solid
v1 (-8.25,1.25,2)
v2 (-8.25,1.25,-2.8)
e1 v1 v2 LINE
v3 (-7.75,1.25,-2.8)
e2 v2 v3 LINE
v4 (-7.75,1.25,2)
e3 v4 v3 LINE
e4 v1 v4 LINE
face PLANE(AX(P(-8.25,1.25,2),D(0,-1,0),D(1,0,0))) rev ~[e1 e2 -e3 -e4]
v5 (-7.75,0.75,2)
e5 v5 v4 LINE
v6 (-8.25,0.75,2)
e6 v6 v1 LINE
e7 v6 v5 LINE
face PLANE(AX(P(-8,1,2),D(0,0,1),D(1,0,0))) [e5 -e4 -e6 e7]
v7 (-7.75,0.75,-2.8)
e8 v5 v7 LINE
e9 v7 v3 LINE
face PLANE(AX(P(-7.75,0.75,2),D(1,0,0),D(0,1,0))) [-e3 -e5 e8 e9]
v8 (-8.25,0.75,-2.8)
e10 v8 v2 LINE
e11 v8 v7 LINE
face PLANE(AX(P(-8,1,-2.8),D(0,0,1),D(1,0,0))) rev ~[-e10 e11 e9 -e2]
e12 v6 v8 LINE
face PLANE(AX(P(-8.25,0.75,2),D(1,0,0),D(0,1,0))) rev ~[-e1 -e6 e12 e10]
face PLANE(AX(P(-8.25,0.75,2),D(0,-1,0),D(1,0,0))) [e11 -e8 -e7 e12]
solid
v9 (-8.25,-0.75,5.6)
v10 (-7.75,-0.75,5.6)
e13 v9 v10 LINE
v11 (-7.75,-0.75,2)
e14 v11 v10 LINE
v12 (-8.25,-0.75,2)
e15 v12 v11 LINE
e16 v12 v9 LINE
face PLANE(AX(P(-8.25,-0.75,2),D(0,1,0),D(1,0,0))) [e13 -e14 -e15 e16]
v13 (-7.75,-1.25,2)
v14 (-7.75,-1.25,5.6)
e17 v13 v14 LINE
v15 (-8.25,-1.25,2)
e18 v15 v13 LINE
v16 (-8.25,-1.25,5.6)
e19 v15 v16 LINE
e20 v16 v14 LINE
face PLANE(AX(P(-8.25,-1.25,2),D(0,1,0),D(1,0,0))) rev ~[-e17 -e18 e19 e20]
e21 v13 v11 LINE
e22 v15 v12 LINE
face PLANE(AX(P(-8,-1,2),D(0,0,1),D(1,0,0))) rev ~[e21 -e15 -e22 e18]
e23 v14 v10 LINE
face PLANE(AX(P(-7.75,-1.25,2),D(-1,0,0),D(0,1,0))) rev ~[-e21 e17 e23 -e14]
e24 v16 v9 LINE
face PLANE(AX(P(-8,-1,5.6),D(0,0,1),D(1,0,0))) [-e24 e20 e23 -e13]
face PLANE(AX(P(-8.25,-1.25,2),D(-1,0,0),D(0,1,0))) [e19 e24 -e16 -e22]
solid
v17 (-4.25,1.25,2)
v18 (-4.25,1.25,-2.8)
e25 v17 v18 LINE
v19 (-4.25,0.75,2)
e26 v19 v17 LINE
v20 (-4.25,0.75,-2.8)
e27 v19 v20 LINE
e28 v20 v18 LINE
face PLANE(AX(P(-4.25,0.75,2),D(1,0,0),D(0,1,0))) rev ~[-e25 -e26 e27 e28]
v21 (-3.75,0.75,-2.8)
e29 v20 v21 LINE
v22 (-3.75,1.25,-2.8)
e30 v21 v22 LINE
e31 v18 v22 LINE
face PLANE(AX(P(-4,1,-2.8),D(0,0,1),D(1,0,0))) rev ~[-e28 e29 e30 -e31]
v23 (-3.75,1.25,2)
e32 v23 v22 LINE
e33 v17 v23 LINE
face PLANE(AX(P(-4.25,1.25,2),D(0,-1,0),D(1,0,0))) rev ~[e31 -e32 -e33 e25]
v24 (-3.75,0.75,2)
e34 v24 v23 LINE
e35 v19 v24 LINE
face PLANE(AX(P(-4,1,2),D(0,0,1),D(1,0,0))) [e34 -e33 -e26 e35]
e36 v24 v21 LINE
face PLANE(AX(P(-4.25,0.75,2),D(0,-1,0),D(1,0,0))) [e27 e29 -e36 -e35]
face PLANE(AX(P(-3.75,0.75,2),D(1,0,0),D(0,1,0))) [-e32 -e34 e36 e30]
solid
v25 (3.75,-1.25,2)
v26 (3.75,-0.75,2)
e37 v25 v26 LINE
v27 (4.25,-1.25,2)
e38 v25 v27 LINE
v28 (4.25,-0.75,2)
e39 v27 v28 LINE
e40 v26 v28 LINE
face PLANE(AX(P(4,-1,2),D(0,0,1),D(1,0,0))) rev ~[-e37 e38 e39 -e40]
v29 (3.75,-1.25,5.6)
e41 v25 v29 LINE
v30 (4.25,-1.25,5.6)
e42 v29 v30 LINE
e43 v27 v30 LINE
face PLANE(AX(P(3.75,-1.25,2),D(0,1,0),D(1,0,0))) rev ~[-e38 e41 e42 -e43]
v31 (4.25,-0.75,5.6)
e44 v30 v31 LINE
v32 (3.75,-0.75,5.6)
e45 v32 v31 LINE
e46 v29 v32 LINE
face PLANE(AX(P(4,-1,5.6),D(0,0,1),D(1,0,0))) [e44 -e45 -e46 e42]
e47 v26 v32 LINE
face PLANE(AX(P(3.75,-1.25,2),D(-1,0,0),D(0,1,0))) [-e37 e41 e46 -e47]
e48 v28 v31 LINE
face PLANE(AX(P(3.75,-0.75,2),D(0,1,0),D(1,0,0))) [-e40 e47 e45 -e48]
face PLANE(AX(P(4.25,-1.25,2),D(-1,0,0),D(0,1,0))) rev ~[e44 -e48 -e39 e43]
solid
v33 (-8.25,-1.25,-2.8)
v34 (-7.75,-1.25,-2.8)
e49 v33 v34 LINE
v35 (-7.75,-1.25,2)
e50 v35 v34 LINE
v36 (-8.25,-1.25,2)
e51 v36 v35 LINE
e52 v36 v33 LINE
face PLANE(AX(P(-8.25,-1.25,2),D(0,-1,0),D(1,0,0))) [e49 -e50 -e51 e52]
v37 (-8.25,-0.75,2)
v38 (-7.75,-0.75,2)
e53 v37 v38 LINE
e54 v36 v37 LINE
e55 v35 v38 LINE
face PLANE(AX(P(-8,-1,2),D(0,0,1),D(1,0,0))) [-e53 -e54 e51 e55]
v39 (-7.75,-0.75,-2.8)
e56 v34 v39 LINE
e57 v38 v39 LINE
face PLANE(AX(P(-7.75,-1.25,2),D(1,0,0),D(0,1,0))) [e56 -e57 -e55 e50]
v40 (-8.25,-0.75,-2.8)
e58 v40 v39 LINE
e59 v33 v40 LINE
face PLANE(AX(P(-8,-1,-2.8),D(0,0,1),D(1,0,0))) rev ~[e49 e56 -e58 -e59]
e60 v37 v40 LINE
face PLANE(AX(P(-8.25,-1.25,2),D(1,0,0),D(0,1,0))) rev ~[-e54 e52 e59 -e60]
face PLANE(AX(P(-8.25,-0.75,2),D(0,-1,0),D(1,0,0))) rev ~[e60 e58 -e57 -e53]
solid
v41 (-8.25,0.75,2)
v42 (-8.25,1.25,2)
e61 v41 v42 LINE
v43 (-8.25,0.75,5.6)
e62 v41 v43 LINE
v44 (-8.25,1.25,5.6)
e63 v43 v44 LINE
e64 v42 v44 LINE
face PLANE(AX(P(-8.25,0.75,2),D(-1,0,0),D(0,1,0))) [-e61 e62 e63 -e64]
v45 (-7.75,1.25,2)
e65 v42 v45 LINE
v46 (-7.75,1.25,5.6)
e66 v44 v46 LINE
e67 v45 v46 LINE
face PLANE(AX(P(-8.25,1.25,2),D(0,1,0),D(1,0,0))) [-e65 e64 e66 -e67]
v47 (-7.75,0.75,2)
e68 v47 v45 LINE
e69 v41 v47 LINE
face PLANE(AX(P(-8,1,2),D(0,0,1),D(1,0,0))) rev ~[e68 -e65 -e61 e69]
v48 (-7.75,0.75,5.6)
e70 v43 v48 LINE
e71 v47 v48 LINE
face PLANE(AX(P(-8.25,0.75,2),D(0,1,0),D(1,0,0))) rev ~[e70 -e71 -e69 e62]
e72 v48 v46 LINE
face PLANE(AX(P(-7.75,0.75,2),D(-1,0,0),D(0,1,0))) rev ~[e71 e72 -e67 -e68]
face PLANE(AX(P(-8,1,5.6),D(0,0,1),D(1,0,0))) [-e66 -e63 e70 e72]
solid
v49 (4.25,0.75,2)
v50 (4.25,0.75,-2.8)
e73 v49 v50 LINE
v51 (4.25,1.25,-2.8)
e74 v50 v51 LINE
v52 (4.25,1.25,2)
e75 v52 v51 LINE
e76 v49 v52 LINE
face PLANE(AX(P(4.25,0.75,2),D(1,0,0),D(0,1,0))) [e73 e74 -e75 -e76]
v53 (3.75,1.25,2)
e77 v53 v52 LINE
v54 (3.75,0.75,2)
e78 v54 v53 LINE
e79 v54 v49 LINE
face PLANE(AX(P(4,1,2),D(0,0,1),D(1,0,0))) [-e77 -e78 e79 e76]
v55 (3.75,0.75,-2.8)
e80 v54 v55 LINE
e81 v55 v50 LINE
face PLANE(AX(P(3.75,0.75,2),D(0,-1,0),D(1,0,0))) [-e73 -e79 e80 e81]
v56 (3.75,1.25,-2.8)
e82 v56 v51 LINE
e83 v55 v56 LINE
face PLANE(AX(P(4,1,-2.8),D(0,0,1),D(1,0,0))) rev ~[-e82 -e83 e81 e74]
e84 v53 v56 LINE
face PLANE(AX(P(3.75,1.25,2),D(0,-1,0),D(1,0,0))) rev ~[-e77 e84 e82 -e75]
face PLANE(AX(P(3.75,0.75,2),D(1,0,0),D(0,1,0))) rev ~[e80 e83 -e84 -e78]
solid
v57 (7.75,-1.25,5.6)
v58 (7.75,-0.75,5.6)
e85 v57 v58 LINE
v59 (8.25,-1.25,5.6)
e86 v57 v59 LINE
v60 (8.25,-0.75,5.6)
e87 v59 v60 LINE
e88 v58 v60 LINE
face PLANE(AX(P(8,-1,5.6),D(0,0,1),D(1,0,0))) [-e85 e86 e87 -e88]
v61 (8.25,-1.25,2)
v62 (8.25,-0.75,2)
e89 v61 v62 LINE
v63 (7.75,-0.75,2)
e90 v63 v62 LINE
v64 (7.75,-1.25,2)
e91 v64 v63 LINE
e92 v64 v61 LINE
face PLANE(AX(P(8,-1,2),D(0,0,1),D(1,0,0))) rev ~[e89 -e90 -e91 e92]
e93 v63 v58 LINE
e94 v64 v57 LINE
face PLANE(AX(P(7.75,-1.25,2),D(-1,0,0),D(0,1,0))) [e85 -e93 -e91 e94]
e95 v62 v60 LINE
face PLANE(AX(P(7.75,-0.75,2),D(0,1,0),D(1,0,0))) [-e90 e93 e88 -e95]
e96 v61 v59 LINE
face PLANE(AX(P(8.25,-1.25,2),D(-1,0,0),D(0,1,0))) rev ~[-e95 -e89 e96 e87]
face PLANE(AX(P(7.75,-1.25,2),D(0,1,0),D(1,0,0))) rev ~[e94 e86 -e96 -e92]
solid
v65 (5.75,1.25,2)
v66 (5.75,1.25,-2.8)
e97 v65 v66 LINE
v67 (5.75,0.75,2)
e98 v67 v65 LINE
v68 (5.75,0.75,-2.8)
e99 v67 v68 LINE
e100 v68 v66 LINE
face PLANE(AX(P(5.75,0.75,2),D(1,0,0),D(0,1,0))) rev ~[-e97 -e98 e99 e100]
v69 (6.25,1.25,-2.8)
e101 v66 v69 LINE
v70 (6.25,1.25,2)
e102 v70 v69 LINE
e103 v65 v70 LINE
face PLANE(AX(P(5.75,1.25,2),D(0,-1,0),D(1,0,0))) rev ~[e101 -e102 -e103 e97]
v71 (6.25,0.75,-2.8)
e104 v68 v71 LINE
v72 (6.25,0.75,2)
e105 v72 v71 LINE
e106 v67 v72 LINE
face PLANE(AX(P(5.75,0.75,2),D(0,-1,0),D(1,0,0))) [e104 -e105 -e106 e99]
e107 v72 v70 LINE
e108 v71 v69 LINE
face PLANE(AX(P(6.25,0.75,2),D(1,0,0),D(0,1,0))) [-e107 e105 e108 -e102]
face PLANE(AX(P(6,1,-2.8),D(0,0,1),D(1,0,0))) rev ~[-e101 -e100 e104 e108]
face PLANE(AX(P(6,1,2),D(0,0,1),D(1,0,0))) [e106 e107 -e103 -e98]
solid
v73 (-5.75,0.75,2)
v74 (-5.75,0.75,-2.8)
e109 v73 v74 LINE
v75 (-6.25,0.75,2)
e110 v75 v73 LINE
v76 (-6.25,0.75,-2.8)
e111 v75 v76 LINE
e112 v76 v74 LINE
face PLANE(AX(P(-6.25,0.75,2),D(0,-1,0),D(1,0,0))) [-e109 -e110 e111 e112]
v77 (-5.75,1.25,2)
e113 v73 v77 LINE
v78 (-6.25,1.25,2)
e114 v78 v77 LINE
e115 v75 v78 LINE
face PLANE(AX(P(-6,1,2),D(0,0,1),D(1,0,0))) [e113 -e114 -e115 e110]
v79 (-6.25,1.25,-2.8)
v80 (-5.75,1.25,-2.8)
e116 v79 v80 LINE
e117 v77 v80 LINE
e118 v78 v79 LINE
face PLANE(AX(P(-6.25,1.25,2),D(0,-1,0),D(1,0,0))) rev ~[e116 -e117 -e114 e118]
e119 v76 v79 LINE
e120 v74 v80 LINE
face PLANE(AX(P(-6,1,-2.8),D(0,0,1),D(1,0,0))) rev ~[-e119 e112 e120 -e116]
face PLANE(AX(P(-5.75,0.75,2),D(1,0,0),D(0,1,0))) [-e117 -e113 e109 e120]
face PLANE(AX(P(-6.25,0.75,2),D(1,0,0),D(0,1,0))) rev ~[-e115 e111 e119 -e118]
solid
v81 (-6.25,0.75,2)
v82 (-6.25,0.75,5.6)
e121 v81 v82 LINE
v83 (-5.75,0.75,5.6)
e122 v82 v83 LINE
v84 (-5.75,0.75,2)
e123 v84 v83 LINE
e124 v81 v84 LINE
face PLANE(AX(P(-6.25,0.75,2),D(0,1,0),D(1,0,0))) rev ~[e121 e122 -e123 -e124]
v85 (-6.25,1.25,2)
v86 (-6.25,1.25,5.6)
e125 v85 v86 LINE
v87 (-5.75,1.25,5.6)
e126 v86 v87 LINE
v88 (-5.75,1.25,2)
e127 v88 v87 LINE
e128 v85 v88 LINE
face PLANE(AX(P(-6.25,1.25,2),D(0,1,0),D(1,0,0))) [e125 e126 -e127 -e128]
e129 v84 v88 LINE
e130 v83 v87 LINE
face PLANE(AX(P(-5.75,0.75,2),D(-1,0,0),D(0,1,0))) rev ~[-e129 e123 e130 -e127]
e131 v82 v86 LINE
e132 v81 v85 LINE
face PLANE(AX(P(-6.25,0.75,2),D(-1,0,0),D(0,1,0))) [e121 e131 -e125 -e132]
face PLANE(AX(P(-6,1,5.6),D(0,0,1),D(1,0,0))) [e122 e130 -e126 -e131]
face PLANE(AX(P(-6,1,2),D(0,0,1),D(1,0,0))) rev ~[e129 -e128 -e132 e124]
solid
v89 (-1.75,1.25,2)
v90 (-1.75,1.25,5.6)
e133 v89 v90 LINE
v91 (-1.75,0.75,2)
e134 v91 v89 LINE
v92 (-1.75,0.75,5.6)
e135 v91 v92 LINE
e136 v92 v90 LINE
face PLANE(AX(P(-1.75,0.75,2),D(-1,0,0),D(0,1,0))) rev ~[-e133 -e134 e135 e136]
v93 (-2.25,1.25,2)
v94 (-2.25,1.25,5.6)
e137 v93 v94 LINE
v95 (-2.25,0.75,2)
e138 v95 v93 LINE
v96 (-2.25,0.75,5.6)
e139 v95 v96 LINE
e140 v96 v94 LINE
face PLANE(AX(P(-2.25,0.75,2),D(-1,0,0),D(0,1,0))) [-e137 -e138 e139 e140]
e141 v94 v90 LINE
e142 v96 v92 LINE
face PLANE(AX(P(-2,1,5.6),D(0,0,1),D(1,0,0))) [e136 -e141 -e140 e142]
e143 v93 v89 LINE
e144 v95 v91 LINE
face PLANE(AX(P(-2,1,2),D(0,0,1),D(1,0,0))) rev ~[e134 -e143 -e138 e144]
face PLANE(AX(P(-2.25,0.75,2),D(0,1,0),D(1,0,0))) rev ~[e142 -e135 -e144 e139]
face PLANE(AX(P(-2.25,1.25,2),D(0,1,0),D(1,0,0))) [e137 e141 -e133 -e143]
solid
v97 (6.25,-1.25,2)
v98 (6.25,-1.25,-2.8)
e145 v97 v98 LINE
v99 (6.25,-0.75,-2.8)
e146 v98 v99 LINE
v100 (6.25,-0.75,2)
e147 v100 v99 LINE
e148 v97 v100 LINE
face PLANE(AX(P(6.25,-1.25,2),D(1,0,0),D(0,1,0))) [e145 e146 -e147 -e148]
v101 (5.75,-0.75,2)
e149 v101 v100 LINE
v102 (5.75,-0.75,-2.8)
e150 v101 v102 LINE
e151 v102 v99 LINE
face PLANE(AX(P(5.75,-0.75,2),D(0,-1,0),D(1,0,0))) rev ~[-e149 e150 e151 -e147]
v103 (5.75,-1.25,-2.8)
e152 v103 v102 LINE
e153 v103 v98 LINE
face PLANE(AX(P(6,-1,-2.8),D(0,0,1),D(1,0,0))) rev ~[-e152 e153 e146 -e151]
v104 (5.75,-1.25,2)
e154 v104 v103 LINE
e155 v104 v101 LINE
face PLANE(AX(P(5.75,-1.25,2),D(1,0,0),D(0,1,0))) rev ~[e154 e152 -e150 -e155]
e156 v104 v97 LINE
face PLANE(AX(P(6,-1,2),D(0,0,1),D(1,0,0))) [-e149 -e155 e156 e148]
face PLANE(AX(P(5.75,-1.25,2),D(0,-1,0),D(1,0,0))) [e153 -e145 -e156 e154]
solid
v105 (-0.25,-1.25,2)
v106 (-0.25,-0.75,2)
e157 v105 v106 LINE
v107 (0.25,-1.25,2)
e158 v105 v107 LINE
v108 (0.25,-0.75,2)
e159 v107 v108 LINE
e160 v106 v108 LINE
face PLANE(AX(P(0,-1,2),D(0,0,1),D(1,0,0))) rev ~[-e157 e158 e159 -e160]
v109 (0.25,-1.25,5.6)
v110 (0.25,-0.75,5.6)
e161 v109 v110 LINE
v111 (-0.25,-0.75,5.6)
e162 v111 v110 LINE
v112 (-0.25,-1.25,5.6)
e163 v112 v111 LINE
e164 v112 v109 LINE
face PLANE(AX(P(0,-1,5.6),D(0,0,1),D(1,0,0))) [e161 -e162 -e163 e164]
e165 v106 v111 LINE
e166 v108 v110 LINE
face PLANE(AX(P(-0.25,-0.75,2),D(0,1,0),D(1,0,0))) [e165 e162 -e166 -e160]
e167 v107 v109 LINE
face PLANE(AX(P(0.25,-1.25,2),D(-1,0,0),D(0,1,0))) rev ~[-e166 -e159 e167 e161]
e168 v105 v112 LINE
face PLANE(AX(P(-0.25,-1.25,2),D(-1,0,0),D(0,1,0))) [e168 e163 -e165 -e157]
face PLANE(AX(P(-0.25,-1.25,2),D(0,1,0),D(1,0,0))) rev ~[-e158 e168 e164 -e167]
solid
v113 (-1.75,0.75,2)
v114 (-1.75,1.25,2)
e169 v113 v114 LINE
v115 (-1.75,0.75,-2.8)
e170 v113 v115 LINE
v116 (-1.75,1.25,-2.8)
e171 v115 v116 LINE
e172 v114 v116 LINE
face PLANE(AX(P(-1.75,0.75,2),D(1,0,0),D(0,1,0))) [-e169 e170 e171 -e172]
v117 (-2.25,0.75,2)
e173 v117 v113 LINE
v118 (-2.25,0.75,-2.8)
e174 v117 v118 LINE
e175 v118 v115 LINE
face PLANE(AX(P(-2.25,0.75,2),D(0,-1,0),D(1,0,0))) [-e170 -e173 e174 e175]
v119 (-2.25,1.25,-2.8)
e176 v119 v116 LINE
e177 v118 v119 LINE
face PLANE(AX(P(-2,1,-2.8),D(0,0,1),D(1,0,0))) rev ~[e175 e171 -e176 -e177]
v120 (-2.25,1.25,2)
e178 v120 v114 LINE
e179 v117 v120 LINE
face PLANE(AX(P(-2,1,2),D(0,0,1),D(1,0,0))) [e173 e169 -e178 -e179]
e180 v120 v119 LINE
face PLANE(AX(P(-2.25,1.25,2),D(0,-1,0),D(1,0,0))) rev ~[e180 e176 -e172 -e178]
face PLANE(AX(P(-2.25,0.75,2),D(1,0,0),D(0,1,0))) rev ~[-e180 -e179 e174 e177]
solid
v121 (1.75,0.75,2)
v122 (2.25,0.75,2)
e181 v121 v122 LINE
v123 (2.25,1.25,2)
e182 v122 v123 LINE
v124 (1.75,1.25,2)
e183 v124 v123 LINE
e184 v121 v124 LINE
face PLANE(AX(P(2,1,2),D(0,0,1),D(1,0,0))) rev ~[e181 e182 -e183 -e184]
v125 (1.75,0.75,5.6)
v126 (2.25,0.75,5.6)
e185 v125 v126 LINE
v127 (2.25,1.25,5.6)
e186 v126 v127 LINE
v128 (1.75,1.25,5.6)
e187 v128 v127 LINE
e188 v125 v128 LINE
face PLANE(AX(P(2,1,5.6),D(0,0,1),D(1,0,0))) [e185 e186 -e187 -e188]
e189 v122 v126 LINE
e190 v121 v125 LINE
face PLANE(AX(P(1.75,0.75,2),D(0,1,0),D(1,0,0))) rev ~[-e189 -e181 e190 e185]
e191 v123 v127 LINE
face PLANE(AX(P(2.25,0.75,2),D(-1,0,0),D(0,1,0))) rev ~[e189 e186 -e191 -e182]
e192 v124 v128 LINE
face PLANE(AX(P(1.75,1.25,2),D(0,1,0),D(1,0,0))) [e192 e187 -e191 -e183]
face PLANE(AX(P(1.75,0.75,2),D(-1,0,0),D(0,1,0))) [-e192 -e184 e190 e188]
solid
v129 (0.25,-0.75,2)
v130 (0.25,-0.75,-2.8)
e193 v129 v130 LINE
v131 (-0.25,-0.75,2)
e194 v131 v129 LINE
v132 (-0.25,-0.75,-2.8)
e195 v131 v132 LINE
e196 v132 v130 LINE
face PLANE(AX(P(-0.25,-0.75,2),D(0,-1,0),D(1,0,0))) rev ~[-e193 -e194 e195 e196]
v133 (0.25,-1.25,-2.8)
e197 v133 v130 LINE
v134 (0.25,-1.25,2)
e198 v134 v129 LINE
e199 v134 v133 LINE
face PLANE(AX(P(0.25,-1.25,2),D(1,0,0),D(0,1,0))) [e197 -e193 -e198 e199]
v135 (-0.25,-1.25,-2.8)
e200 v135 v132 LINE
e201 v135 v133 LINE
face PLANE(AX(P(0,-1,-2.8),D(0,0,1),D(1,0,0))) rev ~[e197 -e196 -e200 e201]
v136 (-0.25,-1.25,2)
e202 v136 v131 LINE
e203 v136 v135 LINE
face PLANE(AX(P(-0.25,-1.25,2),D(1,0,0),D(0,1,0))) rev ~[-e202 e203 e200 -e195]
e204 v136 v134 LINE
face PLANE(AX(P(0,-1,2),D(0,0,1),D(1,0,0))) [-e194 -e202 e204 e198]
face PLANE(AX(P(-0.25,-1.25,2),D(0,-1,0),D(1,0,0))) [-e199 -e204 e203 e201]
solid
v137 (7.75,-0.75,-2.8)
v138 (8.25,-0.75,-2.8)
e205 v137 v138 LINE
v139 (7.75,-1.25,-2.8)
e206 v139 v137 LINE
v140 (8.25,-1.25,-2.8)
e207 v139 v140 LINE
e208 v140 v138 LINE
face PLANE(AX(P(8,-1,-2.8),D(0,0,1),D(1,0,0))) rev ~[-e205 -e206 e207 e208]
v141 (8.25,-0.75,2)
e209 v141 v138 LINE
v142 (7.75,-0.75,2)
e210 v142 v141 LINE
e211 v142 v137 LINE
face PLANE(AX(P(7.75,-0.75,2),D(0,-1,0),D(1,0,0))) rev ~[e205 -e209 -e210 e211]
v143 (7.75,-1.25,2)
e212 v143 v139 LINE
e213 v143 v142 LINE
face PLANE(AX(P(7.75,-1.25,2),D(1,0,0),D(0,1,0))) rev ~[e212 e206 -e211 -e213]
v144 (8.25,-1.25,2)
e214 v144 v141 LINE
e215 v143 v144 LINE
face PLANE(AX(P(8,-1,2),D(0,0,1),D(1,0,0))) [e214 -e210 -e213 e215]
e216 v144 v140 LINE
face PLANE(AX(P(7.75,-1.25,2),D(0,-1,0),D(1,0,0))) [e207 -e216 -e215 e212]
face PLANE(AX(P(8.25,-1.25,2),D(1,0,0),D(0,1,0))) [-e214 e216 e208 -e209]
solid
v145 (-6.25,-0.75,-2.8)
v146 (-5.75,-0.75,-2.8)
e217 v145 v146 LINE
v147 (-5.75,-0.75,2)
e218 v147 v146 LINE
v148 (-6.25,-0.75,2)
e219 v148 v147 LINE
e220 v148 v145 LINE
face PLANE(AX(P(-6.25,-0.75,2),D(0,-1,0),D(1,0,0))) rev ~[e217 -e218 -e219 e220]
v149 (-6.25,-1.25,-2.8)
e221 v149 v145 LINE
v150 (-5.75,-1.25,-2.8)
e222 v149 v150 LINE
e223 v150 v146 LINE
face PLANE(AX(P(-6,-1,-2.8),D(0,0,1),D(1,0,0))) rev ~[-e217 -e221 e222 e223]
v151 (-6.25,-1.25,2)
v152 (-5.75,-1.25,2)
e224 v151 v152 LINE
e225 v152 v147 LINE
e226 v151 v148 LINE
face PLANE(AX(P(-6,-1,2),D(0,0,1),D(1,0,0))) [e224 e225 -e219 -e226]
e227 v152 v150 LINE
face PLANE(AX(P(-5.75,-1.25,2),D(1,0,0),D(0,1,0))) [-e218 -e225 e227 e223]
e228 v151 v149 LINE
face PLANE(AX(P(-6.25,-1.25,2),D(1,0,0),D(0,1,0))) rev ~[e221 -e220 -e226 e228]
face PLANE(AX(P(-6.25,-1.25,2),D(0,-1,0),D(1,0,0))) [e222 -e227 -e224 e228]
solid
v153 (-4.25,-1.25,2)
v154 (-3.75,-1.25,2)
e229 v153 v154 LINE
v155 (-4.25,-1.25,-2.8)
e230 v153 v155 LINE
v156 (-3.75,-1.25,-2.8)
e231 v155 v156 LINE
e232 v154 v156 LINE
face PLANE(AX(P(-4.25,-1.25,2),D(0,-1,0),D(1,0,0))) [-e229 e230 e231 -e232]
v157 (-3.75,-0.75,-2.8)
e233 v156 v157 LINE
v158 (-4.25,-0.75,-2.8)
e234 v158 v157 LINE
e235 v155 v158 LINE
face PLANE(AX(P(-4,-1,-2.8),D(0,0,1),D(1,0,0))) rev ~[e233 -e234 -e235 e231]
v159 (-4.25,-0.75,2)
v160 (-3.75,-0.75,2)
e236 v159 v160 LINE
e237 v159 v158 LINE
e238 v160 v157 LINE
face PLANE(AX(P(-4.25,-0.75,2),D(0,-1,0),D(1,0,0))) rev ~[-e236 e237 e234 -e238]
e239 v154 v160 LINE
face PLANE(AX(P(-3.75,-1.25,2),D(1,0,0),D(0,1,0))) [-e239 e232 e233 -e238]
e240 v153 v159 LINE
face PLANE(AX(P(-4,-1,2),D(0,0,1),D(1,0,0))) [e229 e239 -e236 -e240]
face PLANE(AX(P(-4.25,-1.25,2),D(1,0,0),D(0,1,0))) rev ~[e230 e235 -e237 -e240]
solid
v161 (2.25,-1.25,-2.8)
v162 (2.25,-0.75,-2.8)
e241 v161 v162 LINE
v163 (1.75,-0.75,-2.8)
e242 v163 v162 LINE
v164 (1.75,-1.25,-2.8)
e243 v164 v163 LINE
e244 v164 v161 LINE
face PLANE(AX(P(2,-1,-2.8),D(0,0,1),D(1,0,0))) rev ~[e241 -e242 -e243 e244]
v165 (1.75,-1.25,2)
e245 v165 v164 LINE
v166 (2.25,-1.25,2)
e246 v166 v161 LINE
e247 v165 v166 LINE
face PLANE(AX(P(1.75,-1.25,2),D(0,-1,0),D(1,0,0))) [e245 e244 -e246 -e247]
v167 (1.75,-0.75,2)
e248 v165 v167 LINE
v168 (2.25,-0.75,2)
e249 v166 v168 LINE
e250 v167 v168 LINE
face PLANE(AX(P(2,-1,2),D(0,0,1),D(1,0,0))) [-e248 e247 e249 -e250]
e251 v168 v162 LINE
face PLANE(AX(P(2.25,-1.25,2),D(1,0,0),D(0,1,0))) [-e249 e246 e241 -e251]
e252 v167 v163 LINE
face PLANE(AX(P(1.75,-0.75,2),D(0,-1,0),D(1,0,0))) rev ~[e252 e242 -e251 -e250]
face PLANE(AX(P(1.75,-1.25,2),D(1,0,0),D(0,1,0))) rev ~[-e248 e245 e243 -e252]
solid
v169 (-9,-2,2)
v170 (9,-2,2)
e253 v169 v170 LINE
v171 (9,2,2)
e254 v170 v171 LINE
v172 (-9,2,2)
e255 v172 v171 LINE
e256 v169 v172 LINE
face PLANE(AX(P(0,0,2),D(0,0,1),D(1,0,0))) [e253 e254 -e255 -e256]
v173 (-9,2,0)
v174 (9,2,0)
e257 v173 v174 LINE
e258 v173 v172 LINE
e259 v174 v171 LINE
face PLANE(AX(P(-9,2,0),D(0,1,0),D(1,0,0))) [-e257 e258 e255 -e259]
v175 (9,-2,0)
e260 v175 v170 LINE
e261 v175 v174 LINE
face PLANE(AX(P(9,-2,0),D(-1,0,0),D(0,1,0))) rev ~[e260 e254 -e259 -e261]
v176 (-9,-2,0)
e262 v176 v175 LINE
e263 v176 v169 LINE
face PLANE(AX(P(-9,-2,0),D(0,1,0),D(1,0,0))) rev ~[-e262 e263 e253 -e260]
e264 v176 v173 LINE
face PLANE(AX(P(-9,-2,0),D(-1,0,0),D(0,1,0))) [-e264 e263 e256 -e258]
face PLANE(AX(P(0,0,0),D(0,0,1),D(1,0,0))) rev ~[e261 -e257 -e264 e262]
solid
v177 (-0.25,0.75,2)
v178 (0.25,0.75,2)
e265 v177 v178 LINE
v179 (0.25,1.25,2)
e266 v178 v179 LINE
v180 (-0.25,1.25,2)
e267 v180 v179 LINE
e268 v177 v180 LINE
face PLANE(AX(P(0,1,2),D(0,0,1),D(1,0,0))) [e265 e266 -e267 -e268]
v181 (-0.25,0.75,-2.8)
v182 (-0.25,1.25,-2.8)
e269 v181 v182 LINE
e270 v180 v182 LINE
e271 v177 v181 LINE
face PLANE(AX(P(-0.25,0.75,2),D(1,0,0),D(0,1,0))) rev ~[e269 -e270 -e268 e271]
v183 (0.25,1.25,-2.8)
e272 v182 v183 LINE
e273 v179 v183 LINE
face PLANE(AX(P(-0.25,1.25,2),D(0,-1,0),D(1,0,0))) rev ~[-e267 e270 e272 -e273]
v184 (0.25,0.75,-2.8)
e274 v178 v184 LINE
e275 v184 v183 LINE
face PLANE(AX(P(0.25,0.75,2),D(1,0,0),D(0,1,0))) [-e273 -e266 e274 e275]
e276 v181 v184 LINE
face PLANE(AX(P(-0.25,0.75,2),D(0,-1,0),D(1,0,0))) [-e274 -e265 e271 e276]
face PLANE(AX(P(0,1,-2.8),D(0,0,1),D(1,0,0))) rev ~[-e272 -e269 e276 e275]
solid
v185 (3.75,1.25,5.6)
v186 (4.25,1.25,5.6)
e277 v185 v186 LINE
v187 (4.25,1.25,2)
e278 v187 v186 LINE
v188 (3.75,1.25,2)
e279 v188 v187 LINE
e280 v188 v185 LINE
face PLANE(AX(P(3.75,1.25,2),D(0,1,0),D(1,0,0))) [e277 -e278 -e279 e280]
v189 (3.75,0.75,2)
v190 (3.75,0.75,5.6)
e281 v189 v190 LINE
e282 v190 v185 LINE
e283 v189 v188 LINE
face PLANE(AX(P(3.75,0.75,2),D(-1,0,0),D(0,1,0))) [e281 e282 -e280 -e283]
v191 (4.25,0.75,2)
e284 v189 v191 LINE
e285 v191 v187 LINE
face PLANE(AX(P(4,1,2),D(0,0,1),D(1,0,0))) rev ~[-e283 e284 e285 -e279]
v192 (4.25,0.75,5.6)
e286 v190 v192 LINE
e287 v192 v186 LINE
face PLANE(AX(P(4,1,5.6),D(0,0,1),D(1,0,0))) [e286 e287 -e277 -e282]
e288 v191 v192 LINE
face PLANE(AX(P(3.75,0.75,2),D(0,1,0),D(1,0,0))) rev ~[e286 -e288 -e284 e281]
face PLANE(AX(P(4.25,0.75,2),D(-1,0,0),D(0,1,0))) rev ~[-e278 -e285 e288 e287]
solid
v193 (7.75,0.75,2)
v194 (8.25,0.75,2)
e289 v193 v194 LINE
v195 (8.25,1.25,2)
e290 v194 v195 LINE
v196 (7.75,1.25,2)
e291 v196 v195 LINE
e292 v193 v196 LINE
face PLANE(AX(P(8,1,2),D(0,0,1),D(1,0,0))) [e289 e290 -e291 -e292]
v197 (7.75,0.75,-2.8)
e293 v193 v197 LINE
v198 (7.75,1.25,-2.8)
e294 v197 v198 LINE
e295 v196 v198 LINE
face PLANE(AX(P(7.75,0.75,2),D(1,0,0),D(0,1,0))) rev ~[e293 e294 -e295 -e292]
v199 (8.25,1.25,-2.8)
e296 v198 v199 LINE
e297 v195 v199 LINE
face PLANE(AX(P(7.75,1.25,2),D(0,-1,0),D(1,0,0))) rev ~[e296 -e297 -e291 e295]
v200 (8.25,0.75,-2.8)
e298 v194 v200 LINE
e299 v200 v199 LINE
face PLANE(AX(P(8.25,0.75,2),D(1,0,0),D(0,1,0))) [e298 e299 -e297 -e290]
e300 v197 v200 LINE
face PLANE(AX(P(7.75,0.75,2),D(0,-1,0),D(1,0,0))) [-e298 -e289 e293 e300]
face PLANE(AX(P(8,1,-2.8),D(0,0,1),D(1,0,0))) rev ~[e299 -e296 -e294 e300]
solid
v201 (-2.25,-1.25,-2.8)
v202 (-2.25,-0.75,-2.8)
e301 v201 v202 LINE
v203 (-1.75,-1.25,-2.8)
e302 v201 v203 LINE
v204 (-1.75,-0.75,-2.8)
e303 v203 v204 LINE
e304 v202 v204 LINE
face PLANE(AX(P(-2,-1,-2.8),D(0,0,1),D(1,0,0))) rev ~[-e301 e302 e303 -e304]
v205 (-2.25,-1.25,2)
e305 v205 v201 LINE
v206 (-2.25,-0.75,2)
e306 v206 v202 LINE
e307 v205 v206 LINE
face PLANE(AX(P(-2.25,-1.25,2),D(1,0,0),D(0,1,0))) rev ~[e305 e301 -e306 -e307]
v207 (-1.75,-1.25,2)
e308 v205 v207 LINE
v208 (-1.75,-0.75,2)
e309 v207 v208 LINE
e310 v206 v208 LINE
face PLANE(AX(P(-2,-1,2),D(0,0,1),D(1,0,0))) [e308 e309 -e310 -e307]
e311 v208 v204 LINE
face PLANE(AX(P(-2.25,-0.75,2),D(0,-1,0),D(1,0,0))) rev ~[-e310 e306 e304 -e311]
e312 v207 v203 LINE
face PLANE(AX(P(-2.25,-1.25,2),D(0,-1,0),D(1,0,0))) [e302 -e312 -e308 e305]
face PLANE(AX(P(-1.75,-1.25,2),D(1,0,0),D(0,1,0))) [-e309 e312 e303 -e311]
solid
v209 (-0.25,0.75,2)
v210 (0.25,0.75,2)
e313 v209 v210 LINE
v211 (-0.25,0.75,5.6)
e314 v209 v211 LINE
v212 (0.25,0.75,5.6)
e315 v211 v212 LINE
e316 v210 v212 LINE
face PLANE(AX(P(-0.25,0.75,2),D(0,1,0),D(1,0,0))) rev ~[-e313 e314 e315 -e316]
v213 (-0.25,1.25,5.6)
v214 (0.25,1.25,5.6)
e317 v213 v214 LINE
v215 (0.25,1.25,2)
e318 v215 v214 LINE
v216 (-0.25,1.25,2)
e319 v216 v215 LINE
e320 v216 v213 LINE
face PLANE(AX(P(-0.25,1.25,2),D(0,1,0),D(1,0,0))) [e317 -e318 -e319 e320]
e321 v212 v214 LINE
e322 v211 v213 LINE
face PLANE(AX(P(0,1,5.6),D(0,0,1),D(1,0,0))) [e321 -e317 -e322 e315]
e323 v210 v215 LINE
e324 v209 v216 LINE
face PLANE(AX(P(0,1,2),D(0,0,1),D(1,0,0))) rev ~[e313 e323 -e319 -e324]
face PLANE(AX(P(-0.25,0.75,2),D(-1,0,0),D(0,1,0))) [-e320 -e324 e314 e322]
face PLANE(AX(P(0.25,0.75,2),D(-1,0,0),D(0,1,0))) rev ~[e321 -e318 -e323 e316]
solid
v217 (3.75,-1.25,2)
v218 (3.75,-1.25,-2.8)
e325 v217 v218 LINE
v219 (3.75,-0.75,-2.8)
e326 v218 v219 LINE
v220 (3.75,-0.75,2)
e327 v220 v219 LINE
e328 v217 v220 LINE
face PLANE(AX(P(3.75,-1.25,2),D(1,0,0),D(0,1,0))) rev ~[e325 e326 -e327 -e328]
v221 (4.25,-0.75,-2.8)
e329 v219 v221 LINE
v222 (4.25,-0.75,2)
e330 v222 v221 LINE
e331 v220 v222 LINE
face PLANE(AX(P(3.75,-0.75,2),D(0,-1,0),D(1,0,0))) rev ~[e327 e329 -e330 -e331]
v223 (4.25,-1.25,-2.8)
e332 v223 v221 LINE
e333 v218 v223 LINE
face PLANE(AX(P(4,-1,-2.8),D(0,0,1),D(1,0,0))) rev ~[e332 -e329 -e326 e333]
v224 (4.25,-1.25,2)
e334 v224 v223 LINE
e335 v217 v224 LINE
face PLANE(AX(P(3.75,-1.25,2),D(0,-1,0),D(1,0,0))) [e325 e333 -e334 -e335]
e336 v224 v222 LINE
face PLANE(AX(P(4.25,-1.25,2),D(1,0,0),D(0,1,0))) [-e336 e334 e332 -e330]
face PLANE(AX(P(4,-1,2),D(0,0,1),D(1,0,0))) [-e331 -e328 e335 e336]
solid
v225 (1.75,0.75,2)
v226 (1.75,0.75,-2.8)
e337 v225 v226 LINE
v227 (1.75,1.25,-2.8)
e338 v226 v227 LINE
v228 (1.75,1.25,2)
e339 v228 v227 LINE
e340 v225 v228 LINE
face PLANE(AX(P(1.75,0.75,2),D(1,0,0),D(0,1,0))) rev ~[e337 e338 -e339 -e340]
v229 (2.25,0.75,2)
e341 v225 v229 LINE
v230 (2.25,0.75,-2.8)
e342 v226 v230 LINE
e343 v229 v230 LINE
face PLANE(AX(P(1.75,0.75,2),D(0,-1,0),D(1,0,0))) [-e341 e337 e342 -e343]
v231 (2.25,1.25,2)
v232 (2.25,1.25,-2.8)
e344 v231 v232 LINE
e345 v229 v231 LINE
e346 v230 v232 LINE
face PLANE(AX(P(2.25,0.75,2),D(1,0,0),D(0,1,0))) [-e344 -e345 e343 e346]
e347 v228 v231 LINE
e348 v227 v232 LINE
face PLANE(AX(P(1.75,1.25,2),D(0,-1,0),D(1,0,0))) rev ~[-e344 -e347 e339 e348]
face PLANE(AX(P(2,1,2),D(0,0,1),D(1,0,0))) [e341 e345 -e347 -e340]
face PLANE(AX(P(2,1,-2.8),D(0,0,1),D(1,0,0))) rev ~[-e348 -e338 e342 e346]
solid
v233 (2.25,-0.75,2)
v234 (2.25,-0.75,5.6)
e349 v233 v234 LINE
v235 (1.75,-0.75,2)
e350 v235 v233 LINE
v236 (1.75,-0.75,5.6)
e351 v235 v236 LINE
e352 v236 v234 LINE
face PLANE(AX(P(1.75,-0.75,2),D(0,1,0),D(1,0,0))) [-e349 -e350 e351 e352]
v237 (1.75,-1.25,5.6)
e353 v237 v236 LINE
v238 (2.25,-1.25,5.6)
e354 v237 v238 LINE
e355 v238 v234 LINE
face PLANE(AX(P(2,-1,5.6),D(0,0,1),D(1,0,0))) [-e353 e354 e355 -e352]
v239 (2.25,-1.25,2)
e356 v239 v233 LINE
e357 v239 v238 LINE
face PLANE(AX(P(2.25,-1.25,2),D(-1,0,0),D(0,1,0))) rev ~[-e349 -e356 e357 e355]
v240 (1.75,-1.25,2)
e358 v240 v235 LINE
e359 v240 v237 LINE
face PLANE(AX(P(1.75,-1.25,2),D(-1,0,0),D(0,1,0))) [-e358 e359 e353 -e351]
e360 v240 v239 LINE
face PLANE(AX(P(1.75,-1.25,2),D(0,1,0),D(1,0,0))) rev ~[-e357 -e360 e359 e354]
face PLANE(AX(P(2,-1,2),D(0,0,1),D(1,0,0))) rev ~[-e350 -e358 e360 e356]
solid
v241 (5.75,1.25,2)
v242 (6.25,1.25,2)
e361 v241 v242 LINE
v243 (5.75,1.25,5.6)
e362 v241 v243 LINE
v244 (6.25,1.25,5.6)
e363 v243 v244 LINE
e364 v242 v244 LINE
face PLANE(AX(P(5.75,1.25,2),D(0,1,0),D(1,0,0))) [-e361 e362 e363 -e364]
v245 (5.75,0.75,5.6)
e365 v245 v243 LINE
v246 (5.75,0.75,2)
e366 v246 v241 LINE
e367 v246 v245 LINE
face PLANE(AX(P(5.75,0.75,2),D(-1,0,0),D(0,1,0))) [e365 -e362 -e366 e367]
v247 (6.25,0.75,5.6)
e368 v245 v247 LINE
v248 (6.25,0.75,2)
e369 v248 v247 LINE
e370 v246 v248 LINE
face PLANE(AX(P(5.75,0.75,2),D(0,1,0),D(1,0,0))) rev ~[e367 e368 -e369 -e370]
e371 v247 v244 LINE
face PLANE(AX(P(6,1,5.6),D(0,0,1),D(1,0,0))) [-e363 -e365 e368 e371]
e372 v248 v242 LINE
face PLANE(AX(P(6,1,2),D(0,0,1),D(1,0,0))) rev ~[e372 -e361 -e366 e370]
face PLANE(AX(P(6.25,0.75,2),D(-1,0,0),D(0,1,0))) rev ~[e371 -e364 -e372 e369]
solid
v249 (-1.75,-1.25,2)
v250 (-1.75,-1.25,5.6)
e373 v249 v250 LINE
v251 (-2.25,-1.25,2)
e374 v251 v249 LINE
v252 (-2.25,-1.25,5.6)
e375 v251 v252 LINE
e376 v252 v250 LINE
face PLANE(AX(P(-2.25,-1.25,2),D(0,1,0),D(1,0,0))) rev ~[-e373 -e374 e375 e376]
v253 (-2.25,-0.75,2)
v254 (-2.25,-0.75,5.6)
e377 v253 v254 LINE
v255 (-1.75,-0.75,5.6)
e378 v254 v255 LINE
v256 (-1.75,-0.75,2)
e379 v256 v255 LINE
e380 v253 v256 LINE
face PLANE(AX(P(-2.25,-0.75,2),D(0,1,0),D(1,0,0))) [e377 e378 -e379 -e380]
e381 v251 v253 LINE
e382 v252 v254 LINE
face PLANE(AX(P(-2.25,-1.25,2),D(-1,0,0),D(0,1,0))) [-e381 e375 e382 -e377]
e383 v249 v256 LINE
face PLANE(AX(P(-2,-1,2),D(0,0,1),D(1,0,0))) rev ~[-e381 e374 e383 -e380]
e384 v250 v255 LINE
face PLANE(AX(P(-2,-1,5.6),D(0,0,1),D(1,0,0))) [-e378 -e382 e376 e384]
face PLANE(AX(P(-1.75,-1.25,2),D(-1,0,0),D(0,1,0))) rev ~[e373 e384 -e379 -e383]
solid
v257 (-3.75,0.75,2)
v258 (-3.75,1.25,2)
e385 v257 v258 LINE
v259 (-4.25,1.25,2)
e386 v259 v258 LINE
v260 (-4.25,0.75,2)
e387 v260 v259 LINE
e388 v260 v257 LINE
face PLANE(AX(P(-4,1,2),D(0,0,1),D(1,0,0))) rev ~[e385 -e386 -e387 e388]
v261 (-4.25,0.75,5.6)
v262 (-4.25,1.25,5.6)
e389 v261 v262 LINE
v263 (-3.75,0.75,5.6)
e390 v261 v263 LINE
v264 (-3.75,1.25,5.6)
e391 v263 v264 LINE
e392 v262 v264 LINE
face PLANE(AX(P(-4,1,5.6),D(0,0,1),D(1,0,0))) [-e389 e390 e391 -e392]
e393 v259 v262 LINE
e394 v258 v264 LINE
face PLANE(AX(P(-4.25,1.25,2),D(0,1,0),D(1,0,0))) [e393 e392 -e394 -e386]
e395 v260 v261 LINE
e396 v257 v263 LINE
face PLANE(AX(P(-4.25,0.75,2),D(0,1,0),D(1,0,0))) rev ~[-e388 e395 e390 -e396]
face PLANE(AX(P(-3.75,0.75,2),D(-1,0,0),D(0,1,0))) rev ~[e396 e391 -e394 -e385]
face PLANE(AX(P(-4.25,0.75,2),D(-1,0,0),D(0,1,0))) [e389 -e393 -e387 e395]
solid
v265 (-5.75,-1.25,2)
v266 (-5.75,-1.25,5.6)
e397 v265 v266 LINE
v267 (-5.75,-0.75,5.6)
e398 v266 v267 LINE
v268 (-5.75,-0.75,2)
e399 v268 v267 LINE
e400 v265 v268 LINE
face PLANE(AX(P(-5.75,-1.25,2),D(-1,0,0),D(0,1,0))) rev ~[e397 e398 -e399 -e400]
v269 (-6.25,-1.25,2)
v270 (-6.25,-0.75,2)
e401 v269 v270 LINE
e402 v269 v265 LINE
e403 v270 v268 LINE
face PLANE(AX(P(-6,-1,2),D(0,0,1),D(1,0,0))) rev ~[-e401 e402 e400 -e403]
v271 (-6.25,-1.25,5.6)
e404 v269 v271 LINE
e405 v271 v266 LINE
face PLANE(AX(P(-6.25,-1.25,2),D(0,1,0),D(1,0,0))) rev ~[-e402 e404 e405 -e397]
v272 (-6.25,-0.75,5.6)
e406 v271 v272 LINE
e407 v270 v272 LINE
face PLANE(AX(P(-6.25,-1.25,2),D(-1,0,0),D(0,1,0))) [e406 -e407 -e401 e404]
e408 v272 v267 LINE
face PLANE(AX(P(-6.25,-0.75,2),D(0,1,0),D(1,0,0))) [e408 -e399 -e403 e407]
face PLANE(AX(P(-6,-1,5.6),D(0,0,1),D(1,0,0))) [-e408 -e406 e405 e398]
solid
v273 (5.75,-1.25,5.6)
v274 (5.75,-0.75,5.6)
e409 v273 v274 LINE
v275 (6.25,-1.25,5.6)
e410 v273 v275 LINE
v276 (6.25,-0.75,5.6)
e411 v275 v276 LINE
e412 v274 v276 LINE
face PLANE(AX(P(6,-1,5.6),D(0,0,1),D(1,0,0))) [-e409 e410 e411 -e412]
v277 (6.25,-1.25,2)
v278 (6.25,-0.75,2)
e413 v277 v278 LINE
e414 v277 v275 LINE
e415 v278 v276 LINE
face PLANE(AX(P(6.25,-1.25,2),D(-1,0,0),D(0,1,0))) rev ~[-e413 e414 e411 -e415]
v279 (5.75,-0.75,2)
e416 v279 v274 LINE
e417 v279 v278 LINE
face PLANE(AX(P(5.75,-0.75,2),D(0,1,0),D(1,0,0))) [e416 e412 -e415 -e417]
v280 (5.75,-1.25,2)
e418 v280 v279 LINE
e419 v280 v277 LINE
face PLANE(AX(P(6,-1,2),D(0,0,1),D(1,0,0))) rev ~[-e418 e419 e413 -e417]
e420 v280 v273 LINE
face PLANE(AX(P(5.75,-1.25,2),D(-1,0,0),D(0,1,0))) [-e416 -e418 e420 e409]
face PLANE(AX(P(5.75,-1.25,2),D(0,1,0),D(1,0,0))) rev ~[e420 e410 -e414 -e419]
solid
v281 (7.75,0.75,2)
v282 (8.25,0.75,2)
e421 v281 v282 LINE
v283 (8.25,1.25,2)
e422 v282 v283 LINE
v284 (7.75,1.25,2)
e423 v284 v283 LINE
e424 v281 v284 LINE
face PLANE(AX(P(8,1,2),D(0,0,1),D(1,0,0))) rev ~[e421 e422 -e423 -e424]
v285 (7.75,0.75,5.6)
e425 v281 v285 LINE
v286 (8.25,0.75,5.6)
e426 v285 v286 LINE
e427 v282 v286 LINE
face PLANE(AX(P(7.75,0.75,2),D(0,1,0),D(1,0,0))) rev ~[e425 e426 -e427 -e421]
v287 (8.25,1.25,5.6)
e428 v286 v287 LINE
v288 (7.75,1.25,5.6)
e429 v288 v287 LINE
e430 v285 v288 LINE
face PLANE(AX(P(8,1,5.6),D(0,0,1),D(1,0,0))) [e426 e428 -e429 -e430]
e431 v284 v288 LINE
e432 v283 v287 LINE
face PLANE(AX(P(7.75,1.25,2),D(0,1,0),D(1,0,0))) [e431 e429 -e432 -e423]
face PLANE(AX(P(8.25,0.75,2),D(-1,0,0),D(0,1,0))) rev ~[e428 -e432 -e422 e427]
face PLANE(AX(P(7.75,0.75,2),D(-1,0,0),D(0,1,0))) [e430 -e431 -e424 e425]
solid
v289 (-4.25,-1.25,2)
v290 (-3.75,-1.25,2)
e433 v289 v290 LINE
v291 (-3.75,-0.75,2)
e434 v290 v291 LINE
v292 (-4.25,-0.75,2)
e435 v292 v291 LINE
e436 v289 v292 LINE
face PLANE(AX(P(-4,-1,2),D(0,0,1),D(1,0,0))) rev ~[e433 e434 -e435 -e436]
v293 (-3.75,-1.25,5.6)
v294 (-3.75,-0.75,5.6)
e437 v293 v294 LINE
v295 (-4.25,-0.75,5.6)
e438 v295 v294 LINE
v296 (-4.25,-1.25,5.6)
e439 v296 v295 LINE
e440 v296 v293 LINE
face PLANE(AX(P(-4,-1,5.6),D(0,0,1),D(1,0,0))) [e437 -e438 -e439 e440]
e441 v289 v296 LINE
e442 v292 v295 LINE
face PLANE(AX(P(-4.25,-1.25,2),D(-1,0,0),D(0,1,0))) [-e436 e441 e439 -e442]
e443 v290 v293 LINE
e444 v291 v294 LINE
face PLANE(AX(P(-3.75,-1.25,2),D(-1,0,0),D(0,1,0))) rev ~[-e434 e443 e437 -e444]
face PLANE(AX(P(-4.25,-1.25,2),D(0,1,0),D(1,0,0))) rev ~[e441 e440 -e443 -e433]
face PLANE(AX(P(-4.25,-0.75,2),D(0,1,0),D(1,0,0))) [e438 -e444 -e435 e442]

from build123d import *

# Parameters (mm, degrees)
F0_W     = 18
F0_H     = 4
F1_DEPTH = 2
F2_W     = 0.5
F2_H     = 0.5
F3_DEPTH = 3.6
F4_DEPTH = 4.8


with BuildPart() as f1:
    # F0 (on Top) → F1 (new body)
    with BuildSketch(Plane.XY):
        Rectangle(F0_W, F0_H)
    extrude(amount=F1_DEPTH)


with BuildPart() as f3:
    # F2 (on face) → F3 (new body)
    with BuildSketch(Plane.XY.offset(2)):
        with Locations((0, 1)):
            Rectangle(F2_W, F2_H)
        with Locations((0, -1)):
            Rectangle(F2_W, F2_H)
        with Locations((-2, -1)):
            Rectangle(F2_W, F2_H)
        with Locations((-2, 1)):
            Rectangle(F2_W, F2_H)
        with Locations((-4, -1)):
            Rectangle(F2_W, F2_H)
        with Locations((-4, 1)):
            Rectangle(F2_W, F2_H)
        with Locations((-6, -1)):
            Rectangle(F2_W, F2_H)
        with Locations((-6, 1)):
            Rectangle(F2_W, F2_H)
        with Locations((-8, 1)):
            Rectangle(F2_W, F2_H)
        with Locations((-8, -1)):
            Rectangle(F2_W, F2_H)
        with Locations((8, 1)):
            Rectangle(F2_W, F2_H)
        with Locations((6, -1)):
            Rectangle(F2_W, F2_H)
        with Locations((4, 1)):
            Rectangle(F2_W, F2_H)
        with Locations((4, -1)):
            Rectangle(F2_W, F2_H)
        with Locations((6, 1)):
            Rectangle(F2_W, F2_H)
        with Locations((8, -1)):
            Rectangle(F2_W, F2_H)
        with Locations((2, 1)):
            Rectangle(F2_W, F2_H)
        with Locations((2, -1)):
            Rectangle(F2_W, F2_H)
    extrude(amount=F3_DEPTH)


with BuildPart() as f4:
    # F2 (on face) → F4 (new body)
    with BuildSketch(Plane.XY.offset(2)):
        with Locations((0, 1)):
            Rectangle(F2_W, F2_H)
        with Locations((0, -1)):
            Rectangle(F2_W, F2_H)
        with Locations((-2, -1)):
            Rectangle(F2_W, F2_H)
        with Locations((-2, 1)):
            Rectangle(F2_W, F2_H)
        with Locations((-4, -1)):
            Rectangle(F2_W, F2_H)
        with Locations((-4, 1)):
            Rectangle(F2_W, F2_H)
        with Locations((-6, -1)):
            Rectangle(F2_W, F2_H)
        with Locations((-6, 1)):
            Rectangle(F2_W, F2_H)
        with Locations((-8, 1)):
            Rectangle(F2_W, F2_H)
        with Locations((-8, -1)):
            Rectangle(F2_W, F2_H)
        with Locations((8, 1)):
            Rectangle(F2_W, F2_H)
        with Locations((6, -1)):
            Rectangle(F2_W, F2_H)
        with Locations((4, 1)):
            Rectangle(F2_W, F2_H)
        with Locations((4, -1)):
            Rectangle(F2_W, F2_H)
        with Locations((6, 1)):
            Rectangle(F2_W, F2_H)
        with Locations((8, -1)):
            Rectangle(F2_W, F2_H)
        with Locations((2, 1)):
            Rectangle(F2_W, F2_H)
        with Locations((2, -1)):
            Rectangle(F2_W, F2_H)
    extrude(amount=-F4_DEPTH)


solid = Compound([f1.part, f3.part, f4.part])
